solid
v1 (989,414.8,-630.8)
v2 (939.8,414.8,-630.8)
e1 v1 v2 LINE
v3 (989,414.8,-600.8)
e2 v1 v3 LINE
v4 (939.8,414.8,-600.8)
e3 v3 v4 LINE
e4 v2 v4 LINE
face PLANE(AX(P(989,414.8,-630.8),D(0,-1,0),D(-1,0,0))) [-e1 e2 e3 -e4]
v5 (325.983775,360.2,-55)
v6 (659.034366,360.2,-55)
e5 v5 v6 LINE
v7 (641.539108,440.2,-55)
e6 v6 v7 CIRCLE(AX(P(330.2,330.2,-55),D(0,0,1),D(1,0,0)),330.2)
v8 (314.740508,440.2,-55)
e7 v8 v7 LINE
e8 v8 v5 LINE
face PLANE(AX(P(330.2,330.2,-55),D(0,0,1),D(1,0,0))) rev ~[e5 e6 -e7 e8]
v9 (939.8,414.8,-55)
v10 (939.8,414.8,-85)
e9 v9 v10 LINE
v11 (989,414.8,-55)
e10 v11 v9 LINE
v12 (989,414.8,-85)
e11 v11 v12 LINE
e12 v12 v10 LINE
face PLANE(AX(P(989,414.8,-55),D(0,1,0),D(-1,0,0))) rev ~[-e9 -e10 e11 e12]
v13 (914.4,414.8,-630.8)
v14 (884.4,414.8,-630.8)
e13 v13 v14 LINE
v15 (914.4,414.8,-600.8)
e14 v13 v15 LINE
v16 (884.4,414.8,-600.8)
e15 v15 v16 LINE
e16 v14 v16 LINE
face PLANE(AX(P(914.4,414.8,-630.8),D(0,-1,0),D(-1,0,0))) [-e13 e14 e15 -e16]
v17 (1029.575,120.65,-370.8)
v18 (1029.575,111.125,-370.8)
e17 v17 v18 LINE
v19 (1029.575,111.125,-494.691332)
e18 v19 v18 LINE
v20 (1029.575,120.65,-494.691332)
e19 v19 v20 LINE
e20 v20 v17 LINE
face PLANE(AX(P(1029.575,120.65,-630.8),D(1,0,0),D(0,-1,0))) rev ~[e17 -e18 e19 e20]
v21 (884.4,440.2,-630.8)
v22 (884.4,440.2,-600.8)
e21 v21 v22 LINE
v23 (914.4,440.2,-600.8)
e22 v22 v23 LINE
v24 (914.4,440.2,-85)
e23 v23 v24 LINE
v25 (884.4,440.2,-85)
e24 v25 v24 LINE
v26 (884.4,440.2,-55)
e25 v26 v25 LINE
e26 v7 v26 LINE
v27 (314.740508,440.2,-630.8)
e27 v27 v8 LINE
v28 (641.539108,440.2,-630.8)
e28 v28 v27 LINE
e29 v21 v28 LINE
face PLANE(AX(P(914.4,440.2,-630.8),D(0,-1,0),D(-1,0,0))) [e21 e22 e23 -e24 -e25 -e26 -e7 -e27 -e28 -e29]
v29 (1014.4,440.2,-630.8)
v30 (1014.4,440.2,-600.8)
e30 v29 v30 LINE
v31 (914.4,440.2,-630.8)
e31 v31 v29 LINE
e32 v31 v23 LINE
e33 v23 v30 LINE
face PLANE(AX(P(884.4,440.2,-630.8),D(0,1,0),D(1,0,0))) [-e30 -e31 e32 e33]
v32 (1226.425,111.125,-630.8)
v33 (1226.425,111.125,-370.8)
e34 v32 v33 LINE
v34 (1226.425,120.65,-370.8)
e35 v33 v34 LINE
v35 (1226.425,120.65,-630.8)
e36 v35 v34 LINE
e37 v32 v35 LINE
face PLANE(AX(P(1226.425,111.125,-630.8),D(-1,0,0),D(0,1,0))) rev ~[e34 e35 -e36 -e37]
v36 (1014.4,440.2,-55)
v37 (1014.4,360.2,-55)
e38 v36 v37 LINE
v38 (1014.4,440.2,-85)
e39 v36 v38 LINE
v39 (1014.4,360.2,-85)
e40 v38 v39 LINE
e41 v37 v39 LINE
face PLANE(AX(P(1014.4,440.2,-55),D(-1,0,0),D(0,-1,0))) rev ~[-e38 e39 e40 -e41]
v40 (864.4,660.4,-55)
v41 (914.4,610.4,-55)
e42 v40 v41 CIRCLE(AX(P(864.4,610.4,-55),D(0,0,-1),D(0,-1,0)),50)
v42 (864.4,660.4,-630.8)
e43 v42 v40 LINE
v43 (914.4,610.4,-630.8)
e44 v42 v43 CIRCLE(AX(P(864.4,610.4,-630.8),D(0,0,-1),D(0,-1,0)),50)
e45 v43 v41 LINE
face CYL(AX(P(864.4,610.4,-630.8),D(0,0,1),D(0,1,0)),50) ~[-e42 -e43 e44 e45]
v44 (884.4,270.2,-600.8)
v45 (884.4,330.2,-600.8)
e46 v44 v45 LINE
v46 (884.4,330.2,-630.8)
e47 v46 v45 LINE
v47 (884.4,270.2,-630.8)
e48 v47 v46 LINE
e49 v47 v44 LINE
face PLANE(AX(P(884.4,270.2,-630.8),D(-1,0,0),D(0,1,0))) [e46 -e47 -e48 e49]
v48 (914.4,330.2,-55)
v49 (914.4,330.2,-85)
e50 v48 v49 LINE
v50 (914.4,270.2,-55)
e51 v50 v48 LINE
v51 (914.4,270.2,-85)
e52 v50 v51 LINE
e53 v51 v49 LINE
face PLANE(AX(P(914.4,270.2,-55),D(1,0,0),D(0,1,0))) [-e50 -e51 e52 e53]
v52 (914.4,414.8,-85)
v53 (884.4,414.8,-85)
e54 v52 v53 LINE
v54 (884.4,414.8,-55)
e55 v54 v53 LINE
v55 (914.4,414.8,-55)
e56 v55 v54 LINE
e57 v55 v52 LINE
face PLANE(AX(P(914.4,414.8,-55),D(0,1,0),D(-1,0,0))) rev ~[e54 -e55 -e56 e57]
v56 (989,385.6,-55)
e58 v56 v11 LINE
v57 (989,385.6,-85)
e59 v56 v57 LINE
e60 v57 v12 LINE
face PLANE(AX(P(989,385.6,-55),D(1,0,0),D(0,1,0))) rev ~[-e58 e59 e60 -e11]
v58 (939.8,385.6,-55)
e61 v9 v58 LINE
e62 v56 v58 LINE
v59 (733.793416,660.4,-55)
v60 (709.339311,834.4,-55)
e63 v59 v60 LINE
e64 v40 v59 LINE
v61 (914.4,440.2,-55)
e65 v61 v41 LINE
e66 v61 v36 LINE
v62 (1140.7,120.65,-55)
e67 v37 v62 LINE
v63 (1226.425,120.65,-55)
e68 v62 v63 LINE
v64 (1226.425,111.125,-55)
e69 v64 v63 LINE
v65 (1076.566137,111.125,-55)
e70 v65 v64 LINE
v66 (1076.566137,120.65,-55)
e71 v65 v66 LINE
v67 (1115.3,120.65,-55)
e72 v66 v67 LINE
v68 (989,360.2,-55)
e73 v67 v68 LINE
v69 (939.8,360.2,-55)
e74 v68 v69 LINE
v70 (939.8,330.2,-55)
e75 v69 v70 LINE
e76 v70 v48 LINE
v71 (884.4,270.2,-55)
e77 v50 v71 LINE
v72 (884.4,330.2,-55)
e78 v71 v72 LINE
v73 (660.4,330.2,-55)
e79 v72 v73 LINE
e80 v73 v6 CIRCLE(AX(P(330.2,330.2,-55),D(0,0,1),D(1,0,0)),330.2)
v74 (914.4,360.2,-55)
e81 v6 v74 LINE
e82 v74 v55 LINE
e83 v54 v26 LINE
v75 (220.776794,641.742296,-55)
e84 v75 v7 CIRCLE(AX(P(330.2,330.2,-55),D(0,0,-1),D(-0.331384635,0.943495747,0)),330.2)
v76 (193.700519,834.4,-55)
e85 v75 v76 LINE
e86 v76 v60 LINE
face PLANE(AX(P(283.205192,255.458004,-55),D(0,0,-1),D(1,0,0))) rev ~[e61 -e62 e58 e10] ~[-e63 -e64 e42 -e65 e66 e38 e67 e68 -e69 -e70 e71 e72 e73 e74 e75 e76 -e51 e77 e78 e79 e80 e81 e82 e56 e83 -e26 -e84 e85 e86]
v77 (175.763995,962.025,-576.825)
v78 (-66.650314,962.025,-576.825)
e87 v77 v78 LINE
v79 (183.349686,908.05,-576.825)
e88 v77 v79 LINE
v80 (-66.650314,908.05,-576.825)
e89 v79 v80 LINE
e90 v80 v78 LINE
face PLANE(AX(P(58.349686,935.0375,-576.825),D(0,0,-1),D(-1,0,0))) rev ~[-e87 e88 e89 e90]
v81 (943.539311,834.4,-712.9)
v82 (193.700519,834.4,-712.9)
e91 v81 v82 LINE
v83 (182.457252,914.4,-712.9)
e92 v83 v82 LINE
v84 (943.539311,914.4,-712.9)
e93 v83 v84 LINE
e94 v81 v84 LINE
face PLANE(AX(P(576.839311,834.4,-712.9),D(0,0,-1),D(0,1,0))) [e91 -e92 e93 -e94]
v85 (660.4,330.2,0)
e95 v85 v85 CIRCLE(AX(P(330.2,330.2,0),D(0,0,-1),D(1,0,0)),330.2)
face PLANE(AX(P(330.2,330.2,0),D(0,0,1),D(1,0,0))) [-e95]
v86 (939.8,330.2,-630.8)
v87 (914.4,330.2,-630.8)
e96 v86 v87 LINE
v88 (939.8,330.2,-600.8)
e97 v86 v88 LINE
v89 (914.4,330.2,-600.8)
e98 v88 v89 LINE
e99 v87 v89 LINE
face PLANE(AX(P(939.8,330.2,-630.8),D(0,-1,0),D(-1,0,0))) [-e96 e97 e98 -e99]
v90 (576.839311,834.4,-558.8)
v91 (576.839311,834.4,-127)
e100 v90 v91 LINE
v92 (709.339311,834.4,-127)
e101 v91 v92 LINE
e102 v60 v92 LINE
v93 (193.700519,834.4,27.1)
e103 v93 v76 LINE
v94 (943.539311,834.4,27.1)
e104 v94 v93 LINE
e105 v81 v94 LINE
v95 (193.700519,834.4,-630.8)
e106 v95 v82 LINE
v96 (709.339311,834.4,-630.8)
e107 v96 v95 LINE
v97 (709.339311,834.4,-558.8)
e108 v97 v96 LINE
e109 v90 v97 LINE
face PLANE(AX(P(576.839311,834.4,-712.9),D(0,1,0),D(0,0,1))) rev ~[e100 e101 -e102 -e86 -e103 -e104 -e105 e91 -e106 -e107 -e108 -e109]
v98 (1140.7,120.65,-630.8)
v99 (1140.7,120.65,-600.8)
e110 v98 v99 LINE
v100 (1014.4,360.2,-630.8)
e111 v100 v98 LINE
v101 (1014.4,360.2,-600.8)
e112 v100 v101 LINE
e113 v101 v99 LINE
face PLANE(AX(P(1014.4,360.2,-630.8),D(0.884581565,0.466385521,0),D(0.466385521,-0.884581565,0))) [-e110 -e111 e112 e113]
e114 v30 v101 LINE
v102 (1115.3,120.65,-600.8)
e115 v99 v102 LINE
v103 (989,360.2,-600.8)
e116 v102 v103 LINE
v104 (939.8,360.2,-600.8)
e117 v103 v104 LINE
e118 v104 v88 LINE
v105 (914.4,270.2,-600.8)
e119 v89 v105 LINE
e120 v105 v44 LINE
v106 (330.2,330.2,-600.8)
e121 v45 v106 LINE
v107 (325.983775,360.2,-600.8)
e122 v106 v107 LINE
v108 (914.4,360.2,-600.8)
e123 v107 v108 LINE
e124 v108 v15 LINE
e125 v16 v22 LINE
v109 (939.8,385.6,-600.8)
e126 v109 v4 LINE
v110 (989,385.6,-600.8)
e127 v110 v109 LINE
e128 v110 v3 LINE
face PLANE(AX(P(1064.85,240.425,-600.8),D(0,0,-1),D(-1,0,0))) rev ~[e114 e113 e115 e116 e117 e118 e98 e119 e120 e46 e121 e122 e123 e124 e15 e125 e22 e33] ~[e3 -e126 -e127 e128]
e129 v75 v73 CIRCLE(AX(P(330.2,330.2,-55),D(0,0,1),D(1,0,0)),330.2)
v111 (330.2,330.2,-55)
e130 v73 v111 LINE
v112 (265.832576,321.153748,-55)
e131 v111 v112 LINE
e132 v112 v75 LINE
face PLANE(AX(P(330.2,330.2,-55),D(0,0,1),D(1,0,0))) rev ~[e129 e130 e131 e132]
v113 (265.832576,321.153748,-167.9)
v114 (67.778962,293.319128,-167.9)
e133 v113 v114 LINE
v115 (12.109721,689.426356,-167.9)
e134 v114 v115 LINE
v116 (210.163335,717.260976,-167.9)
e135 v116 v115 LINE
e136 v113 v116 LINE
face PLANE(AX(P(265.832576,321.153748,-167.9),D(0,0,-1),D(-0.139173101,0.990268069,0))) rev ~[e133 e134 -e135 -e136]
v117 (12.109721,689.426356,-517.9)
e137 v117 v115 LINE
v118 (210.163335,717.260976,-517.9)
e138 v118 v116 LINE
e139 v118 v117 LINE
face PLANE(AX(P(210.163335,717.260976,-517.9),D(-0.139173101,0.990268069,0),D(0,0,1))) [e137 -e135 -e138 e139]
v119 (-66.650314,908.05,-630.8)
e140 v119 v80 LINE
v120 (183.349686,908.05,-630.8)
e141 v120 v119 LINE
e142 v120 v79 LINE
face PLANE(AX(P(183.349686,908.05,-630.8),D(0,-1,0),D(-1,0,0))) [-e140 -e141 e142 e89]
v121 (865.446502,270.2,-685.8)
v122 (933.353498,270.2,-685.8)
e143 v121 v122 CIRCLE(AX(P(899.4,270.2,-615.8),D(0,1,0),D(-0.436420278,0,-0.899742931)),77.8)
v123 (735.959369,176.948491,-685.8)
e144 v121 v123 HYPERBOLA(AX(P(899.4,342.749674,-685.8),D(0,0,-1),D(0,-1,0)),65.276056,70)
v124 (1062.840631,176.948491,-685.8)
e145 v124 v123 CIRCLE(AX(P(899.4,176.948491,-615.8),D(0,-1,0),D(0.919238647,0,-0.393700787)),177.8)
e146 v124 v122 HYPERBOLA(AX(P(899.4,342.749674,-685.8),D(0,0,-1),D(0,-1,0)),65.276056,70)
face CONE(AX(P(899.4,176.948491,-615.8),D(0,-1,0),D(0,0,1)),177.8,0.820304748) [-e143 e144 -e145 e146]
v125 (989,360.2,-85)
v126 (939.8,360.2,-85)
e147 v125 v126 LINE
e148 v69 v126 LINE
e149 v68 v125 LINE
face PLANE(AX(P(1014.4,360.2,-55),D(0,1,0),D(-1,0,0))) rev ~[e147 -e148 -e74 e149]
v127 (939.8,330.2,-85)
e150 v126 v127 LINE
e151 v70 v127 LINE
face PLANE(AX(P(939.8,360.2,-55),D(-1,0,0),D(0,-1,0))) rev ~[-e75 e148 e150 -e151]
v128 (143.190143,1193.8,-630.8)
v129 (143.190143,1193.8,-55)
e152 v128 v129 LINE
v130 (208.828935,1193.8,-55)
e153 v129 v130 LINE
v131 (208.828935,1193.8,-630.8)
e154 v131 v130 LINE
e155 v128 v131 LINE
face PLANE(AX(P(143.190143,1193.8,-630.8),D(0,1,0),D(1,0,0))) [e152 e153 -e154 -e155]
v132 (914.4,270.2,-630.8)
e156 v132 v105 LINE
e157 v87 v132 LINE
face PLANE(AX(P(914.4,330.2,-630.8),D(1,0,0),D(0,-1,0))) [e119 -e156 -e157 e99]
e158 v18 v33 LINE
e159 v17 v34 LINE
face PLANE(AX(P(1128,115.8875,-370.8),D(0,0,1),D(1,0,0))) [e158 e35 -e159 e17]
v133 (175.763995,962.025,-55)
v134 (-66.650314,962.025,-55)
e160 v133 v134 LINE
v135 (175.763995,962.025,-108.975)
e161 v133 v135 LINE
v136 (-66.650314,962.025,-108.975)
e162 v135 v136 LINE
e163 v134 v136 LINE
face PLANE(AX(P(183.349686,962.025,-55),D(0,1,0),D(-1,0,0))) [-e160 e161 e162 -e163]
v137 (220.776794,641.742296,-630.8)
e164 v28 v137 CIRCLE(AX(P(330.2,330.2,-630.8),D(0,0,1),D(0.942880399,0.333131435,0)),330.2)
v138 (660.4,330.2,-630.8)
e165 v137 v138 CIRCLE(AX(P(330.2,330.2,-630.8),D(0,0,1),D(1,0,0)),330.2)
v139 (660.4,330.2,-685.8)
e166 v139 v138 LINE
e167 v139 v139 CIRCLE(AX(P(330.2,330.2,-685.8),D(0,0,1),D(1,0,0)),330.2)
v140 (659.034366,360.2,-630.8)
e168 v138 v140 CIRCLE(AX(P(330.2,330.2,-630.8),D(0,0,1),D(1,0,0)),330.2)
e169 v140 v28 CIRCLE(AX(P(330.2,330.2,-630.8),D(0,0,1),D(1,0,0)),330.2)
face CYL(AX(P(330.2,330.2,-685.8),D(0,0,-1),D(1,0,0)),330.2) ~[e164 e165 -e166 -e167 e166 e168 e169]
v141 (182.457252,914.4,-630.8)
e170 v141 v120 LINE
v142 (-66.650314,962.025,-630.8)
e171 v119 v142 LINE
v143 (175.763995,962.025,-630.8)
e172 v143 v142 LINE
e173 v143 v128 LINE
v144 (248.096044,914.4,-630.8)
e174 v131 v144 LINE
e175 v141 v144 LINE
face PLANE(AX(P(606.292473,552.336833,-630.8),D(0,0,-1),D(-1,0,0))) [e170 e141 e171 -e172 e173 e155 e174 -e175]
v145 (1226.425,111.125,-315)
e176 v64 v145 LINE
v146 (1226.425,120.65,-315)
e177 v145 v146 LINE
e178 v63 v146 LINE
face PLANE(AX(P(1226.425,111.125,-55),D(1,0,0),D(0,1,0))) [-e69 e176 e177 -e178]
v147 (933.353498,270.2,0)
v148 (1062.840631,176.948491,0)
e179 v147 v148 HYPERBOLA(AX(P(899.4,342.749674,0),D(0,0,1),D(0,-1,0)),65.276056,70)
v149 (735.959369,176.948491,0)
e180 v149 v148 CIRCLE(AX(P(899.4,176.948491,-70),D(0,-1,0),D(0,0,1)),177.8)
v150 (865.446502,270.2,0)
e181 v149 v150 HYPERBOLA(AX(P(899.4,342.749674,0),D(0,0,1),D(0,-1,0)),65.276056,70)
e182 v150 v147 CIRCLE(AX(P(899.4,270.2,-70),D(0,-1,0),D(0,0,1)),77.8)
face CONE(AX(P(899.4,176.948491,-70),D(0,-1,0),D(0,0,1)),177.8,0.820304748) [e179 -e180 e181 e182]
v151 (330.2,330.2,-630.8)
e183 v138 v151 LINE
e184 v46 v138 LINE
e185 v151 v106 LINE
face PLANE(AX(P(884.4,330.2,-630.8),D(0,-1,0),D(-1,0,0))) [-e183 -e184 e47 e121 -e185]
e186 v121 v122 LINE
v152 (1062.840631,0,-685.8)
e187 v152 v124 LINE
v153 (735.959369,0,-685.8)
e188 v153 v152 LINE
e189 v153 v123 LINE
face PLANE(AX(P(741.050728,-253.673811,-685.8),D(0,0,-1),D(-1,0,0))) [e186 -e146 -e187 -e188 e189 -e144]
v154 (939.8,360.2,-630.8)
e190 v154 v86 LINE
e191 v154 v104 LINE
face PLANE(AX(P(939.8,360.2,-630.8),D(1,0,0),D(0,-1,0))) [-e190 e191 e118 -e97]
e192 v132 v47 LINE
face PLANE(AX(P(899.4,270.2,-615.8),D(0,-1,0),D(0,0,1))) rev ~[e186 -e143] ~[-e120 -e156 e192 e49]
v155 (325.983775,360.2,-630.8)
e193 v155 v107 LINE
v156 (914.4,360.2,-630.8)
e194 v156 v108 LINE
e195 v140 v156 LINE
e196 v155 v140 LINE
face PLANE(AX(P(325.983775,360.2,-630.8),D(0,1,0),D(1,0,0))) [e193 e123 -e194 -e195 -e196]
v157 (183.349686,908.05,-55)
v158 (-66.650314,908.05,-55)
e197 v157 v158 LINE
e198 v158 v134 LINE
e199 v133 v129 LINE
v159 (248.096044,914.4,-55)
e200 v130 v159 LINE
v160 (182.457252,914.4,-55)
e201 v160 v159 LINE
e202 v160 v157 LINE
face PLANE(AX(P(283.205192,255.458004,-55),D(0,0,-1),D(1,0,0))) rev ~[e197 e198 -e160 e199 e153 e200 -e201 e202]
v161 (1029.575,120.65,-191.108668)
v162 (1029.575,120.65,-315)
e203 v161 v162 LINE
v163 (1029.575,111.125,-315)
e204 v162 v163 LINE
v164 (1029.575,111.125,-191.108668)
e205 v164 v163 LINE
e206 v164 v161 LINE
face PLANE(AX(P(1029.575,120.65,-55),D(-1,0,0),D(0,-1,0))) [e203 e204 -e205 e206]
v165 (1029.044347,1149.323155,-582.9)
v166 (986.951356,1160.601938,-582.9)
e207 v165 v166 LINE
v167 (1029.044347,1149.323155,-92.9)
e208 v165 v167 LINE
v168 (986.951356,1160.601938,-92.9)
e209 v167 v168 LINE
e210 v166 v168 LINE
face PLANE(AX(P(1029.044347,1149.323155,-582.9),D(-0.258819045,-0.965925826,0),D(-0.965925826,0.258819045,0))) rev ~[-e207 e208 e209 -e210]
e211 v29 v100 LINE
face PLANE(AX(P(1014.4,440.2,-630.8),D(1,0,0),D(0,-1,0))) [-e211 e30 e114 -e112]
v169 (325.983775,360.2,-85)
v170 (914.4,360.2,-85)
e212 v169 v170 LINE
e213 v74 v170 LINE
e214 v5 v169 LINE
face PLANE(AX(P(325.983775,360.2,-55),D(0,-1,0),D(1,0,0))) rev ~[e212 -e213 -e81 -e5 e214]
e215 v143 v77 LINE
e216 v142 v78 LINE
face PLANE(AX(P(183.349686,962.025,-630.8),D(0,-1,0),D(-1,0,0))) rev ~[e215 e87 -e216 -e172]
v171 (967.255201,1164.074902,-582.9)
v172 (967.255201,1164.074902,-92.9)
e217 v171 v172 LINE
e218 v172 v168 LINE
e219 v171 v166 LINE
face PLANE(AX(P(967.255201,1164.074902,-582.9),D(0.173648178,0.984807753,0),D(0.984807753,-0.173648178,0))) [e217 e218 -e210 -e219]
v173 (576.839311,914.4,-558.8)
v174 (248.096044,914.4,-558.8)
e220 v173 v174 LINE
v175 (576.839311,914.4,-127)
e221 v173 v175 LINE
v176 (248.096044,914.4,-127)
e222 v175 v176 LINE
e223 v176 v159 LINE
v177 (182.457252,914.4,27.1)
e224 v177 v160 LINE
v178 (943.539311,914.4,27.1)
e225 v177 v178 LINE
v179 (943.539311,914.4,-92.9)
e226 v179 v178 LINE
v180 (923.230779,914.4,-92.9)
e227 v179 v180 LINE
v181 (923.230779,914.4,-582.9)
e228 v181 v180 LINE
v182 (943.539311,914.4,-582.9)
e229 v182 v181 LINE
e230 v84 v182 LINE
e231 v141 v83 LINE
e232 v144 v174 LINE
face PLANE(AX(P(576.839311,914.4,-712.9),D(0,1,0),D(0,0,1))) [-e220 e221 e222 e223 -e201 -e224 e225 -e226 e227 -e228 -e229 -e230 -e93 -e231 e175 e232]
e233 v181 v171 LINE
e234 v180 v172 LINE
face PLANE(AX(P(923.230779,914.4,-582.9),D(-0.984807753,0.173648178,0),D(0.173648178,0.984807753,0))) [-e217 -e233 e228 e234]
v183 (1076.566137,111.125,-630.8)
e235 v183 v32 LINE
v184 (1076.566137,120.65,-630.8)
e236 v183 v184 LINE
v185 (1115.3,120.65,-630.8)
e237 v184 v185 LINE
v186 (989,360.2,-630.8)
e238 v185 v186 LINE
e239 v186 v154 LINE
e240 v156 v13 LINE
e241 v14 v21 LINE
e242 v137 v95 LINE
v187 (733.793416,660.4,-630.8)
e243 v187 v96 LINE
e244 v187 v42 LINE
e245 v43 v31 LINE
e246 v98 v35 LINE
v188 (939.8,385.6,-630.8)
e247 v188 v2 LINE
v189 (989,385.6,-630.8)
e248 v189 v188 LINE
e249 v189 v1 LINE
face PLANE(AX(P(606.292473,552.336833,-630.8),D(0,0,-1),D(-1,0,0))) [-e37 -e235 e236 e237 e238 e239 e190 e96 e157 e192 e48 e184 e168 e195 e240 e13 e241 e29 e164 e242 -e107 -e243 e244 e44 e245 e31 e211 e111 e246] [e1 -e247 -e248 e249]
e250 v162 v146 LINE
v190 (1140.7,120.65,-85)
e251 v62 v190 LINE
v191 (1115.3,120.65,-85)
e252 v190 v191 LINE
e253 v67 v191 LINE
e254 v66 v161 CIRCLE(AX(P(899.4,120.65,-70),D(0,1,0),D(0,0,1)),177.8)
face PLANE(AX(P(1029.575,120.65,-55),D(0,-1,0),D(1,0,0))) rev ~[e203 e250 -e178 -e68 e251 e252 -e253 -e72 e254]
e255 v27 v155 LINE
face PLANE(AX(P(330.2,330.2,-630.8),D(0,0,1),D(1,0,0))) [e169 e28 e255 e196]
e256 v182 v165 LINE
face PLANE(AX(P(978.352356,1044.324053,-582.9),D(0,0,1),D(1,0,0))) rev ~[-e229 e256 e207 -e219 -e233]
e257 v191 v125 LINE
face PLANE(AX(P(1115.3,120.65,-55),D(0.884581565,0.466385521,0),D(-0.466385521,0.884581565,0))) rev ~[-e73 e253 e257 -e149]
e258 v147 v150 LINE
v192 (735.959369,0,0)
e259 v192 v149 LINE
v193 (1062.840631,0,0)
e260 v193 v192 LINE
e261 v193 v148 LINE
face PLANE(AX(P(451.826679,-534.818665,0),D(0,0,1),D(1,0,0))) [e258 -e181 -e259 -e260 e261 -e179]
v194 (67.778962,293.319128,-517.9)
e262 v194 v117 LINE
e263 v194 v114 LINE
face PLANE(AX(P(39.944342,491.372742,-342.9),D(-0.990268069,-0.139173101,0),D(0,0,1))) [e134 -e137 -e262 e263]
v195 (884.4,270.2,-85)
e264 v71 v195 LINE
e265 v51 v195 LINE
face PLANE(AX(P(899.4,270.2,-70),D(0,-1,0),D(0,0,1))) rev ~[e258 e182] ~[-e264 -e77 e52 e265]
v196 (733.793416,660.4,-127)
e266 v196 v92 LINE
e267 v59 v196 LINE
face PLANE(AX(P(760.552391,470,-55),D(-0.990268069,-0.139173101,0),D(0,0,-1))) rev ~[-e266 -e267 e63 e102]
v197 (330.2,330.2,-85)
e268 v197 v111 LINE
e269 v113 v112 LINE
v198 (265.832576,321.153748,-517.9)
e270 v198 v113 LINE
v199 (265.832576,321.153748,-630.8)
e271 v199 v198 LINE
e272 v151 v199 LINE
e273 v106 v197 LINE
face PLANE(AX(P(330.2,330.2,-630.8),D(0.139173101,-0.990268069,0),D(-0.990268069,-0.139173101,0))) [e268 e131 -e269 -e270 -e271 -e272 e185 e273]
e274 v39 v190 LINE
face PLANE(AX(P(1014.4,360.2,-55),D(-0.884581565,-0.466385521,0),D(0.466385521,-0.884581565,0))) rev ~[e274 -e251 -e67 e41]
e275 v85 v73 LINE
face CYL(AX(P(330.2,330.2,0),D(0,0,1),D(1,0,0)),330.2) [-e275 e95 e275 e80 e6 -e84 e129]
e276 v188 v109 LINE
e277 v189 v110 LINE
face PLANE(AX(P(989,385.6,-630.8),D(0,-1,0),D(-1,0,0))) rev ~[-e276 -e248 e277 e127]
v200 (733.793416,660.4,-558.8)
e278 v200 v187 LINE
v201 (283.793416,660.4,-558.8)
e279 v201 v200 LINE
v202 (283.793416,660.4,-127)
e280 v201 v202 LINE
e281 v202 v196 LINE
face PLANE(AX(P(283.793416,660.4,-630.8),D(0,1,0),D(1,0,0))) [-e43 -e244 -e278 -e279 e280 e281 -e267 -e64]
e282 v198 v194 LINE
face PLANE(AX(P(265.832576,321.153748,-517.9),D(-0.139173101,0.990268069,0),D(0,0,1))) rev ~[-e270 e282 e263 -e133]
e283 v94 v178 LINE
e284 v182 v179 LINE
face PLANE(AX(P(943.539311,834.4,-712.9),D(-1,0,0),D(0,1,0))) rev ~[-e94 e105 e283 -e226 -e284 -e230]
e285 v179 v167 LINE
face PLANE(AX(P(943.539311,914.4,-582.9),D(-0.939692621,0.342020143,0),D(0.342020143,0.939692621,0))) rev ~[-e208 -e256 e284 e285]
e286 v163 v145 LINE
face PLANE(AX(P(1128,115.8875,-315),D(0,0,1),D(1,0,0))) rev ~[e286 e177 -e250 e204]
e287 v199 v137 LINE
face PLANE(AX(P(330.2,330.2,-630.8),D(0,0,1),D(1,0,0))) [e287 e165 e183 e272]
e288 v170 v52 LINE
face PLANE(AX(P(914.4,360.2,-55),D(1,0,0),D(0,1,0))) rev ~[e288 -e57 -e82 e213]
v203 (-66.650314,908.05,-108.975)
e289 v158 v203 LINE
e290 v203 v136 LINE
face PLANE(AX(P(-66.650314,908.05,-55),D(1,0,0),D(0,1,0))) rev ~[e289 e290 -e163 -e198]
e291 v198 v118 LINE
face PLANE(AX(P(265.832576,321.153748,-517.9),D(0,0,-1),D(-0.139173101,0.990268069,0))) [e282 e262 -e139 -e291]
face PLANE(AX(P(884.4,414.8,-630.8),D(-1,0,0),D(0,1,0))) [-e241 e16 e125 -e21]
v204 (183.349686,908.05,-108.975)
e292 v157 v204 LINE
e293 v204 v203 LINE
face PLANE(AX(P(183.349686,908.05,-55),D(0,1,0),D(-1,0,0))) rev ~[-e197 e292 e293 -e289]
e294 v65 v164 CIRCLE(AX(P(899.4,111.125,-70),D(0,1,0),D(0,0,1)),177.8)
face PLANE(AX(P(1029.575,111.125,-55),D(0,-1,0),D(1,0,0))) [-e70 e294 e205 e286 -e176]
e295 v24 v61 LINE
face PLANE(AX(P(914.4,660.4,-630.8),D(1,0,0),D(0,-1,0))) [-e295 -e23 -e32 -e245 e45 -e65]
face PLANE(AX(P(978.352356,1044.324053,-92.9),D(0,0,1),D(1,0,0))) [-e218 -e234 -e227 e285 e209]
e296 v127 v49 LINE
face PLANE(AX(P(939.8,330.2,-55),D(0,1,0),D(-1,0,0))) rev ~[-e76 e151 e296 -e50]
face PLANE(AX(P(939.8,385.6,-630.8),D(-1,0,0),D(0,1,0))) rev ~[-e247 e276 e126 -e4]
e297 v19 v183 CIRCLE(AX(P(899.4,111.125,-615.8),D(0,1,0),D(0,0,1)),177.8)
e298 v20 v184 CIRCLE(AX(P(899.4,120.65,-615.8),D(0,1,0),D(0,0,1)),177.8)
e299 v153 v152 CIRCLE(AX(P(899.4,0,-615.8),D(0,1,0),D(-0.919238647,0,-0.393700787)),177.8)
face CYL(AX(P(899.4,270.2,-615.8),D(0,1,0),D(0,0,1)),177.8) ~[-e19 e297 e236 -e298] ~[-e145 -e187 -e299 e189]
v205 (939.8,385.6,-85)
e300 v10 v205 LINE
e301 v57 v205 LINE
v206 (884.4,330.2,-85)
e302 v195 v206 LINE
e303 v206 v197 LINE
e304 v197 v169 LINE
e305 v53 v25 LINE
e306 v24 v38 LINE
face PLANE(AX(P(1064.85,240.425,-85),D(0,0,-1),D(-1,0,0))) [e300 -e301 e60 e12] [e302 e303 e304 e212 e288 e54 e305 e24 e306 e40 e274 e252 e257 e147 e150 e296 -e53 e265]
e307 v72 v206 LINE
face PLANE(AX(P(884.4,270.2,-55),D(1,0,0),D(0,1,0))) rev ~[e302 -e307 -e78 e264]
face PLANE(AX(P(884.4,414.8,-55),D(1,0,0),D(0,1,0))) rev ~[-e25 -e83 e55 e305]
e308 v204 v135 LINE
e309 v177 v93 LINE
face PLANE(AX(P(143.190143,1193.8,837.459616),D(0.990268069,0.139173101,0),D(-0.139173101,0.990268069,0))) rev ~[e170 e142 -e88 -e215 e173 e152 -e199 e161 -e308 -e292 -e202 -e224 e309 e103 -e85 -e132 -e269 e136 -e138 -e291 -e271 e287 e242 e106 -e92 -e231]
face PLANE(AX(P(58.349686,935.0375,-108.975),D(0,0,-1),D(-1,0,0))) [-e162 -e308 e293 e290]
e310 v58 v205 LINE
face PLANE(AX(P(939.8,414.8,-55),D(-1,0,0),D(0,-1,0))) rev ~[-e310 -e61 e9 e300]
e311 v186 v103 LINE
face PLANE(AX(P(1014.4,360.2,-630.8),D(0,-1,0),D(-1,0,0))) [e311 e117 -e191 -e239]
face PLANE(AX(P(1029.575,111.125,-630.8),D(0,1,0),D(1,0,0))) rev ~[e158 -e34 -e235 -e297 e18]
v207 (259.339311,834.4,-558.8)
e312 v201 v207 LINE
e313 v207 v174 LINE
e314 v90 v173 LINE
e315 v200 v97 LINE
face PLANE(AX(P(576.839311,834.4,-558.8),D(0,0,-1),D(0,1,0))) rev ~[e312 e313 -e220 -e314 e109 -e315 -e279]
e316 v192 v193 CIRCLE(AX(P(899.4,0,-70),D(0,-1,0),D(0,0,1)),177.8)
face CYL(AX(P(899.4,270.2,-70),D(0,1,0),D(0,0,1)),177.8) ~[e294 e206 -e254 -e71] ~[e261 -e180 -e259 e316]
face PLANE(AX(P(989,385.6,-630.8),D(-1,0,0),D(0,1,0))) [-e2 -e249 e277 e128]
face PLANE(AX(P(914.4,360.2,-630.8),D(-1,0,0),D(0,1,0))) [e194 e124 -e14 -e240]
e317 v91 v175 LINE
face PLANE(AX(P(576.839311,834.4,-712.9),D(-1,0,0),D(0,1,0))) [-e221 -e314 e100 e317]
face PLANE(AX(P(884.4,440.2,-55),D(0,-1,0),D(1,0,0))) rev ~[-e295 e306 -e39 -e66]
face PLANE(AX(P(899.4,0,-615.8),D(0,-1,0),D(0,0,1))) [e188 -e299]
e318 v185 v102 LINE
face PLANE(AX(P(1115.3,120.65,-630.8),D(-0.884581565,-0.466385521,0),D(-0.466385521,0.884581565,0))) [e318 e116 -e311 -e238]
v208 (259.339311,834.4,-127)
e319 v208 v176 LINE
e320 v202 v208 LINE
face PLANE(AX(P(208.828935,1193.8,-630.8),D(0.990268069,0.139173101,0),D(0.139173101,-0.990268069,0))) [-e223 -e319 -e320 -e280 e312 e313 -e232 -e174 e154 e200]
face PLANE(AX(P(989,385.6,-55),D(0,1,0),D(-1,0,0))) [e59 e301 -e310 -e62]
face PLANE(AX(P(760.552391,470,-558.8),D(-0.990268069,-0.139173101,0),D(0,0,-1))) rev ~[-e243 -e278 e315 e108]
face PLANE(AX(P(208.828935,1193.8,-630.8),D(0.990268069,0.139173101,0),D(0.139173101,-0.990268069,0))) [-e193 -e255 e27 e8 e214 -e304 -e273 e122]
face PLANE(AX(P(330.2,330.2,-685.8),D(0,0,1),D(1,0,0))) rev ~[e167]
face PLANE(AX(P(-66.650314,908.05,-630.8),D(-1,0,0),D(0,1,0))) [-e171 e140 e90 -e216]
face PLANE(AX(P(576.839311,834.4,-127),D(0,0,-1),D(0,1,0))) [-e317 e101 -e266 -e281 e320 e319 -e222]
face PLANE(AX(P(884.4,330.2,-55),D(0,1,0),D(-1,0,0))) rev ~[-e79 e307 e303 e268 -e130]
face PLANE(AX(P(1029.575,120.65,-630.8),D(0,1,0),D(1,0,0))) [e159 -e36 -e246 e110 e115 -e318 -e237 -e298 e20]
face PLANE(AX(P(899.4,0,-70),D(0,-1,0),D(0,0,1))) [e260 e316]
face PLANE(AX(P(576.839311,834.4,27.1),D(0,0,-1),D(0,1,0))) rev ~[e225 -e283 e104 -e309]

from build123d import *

# Parameters (mm, degrees)
SKETCH1_R                 = 330.2
BOSS_EXTRUDE1_DEPTH       = 55
SKETCH2_R                 = 330.2
BOSS_EXTRUDE2_DEPTH       = 55
BOSS_EXTRUDE3_DEPTH       = 10
BOSS_EXTRUDE6_DEPTH       = 575.8
BOSS_EXTRUDE33_DEPTH      = 370
BOSS_EXTRUDE33_DEPTH_BACK = 370
SKETCH25_W                = 366.7
SKETCH25_H                = 80
SKETCH5_W                 = 450
SKETCH5_H                 = 72
BOSS_EXTRUDE7_DEPTH       = 367.981167426
SKETCH8_W                 = 49.2
SKETCH8_H                 = 29.2
BOSS_EXTRUDE13_DEPTH      = 30
SKETCH19_R                = 177.8
BOSS_EXTRUDE22_DEPTH      = 270.2
CHAMFER1_SIZE             = 100
CHAMFER1_SIZE2            = 93.251508614
BOSS_EXTRUDE27_DEPTH      = 30
BOSS_EXTRUDE20_DEPTH      = 260
SKETCH23_W                = 30
SKETCH23_H                = 60
SKETCH23_W_2              = 49.2
SKETCH23_H_2              = 25.4
SKETCH23_W_3              = 25.4
BOSS_EXTRUDE28_DEPTH      = 30
SKETCH24_R                = 177.8
BOSS_EXTRUDE29_DEPTH      = 270.2
CHAMFER2_SIZE             = 100
CHAMFER2_SIZE2            = 93.251508614
BOSS_EXTRUDE30_DEPTH      = 30
BOSS_EXTRUDE31_DEPTH      = 260
SKETCH16_W                = 250
SKETCH16_H                = 53.975
BOSS_EXTRUDE18_DEPTH      = 53.975
SKETCH18_W                = 250
SKETCH18_H                = 53.975
BOSS_EXTRUDE19_DEPTH      = 53.975
BOSS_EXTRUDE32_REACH      = 1866.083
BOSS_EXTRUDE34_REACH      = 1575.824
SKETCH26_W                = 154.1
SKETCH26_H                = 80
SKETCH27_W                = 350
SKETCH27_H                = 400
BOSS_EXTRUDE35_DEPTH      = 200
BOSS_EXTRUDE36_START      = -130
BOSS_EXTRUDE36_DEPTH      = 490
FILLET3_R                 = 50
SKETCH30_W                = 2623.123535912
SKETCH30_H                = 2390.43733062
CUT_EXTRUDE1_DEPTH        = 1887.551796433
SKETCH31_W                = 2584.765961417
SKETCH31_H                = 1828.147621016
CUT_EXTRUDE2_DEPTH        = 1855.050466041


with BuildPart() as part:
    # Sketch1 → Boss-Extrude1 (new body)
    with BuildSketch(Plane.XY):
        with Locations((330.2, 330.2)):
            Circle(SKETCH1_R)
    extrude(amount=-BOSS_EXTRUDE1_DEPTH)



with BuildPart() as body_2:
    # Sketch2 → Boss-Extrude2 (new body)
    with BuildSketch(Plane.XY.offset(-685.8)):
        with Locations((330.2, 330.2)):
            Circle(SKETCH2_R)
    extrude(amount=BOSS_EXTRUDE2_DEPTH)


with BuildPart() as part_1:
    add(part.part)

    add(body_2.part)  # Boss-Extrude3 merges body 2
    # 3DSketch2 → Boss-Extrude3 (add)
    with BuildSketch(Plane(origin=(330.2, 460, -630.8), x_dir=(0.5893057409504111, 0, 0.807910108664873), z_dir=(0, -1, 0))):
        Polygon((465.194640569, 339.322245639), (0, 0), (247.508411199, -339.322245639), (712.703051768, 0), align=None)
        Polygon((-38.304873162, 52.514157063), (0, 0), (465.194640569, 339.322245639), (426.889767407, 391.836402702), align=None)
    extrude(amount=-BOSS_EXTRUDE3_DEPTH)

    # Sketch4 → Boss-Extrude6 (add)
    with BuildSketch(Plane(origin=(0, -170.8, -630.8), x_dir=(1, 0, 0), z_dir=(0, 0, 1))):
        Polygon((208.828935151, 1364.6), (330.2, 501), (265.832575532, 491.953748438), (143.190142937, 1364.6), align=None)
    extrude(amount=BOSS_EXTRUDE6_DEPTH)

    # Sketch5 → Boss-Extrude7 (add, along a direction that is not the sketch's normal)
    with BuildSketch(Plane(origin=(0, 470, 0), x_dir=(1, 0, 0), z_dir=(0, 1, 0))):
        with Locations((535.552391309, 91)):
            Rectangle(SKETCH5_W, SKETCH5_H)
        with Locations((535.552391309, 594.8)):
            Rectangle(SKETCH5_W, SKETCH5_H)
    extrude(amount=BOSS_EXTRUDE7_DEPTH, dir=(-0.13917310096006222, 0.9902680687415708, 0))

    # Sketch8 → Boss-Extrude13 (add)
    with BuildSketch(Plane(origin=(0, 0, -630.8), x_dir=(-1, 0, 0), z_dir=(0, 0, -1))):
        Polygon((-1014.4, 360.2), (-939.8, 360.2), (-939.8, 330.2), (-914.4, 330.2), (-914.4, 270.2), (-884.4, 270.2), (-884.4, 330.2), (-330.2, 330.2), (-325.983774959, 360.2), (-914.4, 360.2), (-914.4, 414.8), (-884.4, 414.8), (-884.4, 440.2), (-1014.4, 440.2), align=None)
        with Locations((-964.4, 400.2)):
            Rectangle(SKETCH8_W, SKETCH8_H, mode=Mode.SUBTRACT)
    extrude(amount=-BOSS_EXTRUDE13_DEPTH)

    # Sketch19 → Boss-Extrude22 (add)
    with BuildSketch(Plane.XZ.offset(-270.2)):
        with Locations(Location((899.4, -615.8, 0), (0, 0, 90))):
            Circle(SKETCH19_R)
    extrude(amount=BOSS_EXTRUDE22_DEPTH)

    # Chamfer1
    chamfer1_edges = [part_1.edges().sort_by_distance(p)[0] for p in [
        (899.4, 270.2, -793.6),
    ]]
    chamfer1_side = [part_1.faces().sort_by_distance(p)[0] for p in [
        (899.4, 270.2, -788.571056572),
    ]]
    chamfer(chamfer1_edges, length=CHAMFER1_SIZE, length2=CHAMFER1_SIZE2, reference=chamfer1_side[0])

    # Sketch8<7> → Boss-Extrude27 (add)
    with BuildSketch(Plane(origin=(0, 0, -630.8), x_dir=(-1, 0, 0), z_dir=(0, 0, -1))):
        Polygon((-1014.4, 360.2), (-1140.7, 120.65), (-1115.3, 120.65), (-989, 360.2), align=None)
    extrude(amount=-BOSS_EXTRUDE27_DEPTH)

    # Sketch8<4> → Boss-Extrude20 (add)
    with BuildSketch(Plane(origin=(0, 0, -630.8), x_dir=(-1, 0, 0), z_dir=(0, 0, -1))):
        Polygon((-1226.425, 111.125), (-1226.425, 120.65), (-1140.7, 120.65), (-1115.3, 120.65), (-1029.575, 120.65), (-1029.575, 111.125), align=None)
    extrude(amount=-BOSS_EXTRUDE20_DEPTH)

    # Sketch23 → Boss-Extrude28 (add)
    with BuildSketch(Plane(origin=(0, 0, -55), x_dir=(-1, 0, 0), z_dir=(0, 0, -1))):
        with BuildLine():
            Line((-330.2, 360.2), (-659.034365601, 360.2))
            ThreePointArc((-659.034365601, 360.2), (-660.058414719, 345.215533268), (-660.4, 330.2))
            Line((-660.4, 330.2), (-330.2, 330.2))
            Line((-330.2, 330.2), (-330.2, 360.2))
        make_face()
        with BuildLine():
            Line((-914.4, 360.2), (-939.8, 360.2))
            Line((-939.8, 360.2), (-939.8, 330.2))
            Line((-939.8, 330.2), (-914.4, 330.2))
            Line((-914.4, 330.2), (-884.4, 330.2))
            Line((-884.4, 330.2), (-660.4, 330.2))
            ThreePointArc((-660.4, 330.2), (-660.058414719, 345.215533268), (-659.034365601, 360.2))
            Line((-659.034365601, 360.2), (-914.4, 360.2))
        make_face()
        with Locations((-899.4, 300.2)):
            Rectangle(SKETCH23_W, SKETCH23_H)
        Polygon((-939.8, 385.6), (-939.8, 360.2), (-914.4, 360.2), (-914.4, 414.8), (-914.4, 440.2), (-939.8, 440.2), (-939.8, 414.8), align=None)
        with Locations((-964.4, 372.9)):
            Rectangle(SKETCH23_W_2, SKETCH23_H_2)
        with Locations((-964.4, 427.5)):
            Rectangle(SKETCH23_W_2, SKETCH23_H_2)
        Polygon((-1014.4, 440.2), (-1014.4, 385.6), (-989, 385.6), (-989, 414.8), (-989, 440.2), align=None)
        with Locations((-1001.7, 372.9)):
            Rectangle(SKETCH23_W_3, SKETCH23_H_2)
        Polygon((-325.983774959, 360.2), (-330.2, 360.2), (-330.2, 330.2), align=None)
        with Locations((-899.4, 427.5)):
            Rectangle(SKETCH23_W, SKETCH23_H_2)
    extrude(amount=BOSS_EXTRUDE28_DEPTH)

    # Sketch24 → Boss-Extrude29 (add)
    with BuildSketch(Plane(origin=(0, 270.2, 0), x_dir=(-1, 0, 0), z_dir=(0, -1, 0))):
        with Locations(Location((-899.4, 70, 0), (0, 0, 270))):
            Circle(SKETCH24_R)
    extrude(amount=BOSS_EXTRUDE29_DEPTH)

    # Chamfer2
    chamfer2_edges = [part_1.edges().sort_by_distance(p)[0] for p in [
        (899.4, 270.2, -247.8),
    ]]
    chamfer2_side = [part_1.faces().sort_by_distance(p)[0] for p in [
        (899.4, 270.2, -242.771056572),
    ]]
    chamfer(chamfer2_edges, length=CHAMFER2_SIZE, length2=CHAMFER2_SIZE2, reference=chamfer2_side[0])

    # Sketch23<10> → Boss-Extrude30 (add)
    with BuildSketch(Plane(origin=(0, 0, -55), x_dir=(-1, 0, 0), z_dir=(0, 0, -1))):
        Polygon((-1014.4, 360.2), (-1140.7, 120.65), (-1115.3, 120.65), (-989, 360.2), align=None)
    extrude(amount=BOSS_EXTRUDE30_DEPTH)

    # Sketch23<12> → Boss-Extrude31 (add)
    with BuildSketch(Plane(origin=(0, 0, -55), x_dir=(-1, 0, 0), z_dir=(0, 0, -1))):
        Polygon((-1226.425, 111.125), (-1226.425, 120.65), (-1140.7, 120.65), (-1115.3, 120.65), (-1029.575, 120.65), (-1029.575, 111.125), align=None)
    extrude(amount=BOSS_EXTRUDE31_DEPTH)

    # Sketch16 → Boss-Extrude18 (add)
    with BuildSketch(Plane(origin=(0, 0, -630.8), x_dir=(-1, 0, 0), z_dir=(0, 0, -1))):
        with Locations((-58.349686454, 935.0375)):
            Rectangle(SKETCH16_W, SKETCH16_H)
    extrude(amount=-BOSS_EXTRUDE18_DEPTH)

    # Sketch18 → Boss-Extrude19 (add)
    with BuildSketch(Plane(origin=(0, 0, -55), x_dir=(-1, 0, 0), z_dir=(0, 0, -1))):
        with Locations((-58.349686454, 935.0375)):
            Rectangle(SKETCH18_W, SKETCH18_H)
    extrude(amount=BOSS_EXTRUDE19_DEPTH)

    # Boss-Extrude32: up to this face of the body (flat: up to its plane)
    boss_extrude32_end = Plane(part_1.part.faces().sort_by_distance((283.205191665, 255.458003874, -55))[0])
    # Sketch8<8> → Boss-Extrude32 (add, up to the picked face)
    with BuildSketch(Plane(origin=(0, 0, -630.8), x_dir=(-1, 0, 0), z_dir=(0, 0, -1)), mode=Mode.PRIVATE) as boss_extrude32_sk1:
        Polygon((-314.740508183, 440.2), (-283.793416381, 660.4), (-914.4, 660.4), (-914.4, 440.2), align=None)
    boss_extrude32_tool1 = split(extrude(boss_extrude32_sk1.sketch, amount=-BOSS_EXTRUDE32_REACH, mode=Mode.PRIVATE), bisect_by=boss_extrude32_end, keep=Keep.BOTH, mode=Mode.PRIVATE)
    add(boss_extrude32_tool1.solids().sort_by(Axis((606.768609, 551.223181, -630.8), (0, 0, 1)))[0])



with BuildPart() as body_2_2:
    # Sketch25 → Boss-Extrude33 (new, two sides: drawn at the far end of the back side and taken through both)
    with BuildSketch(Plane.XY.offset(-342.9).offset(-BOSS_EXTRUDE33_DEPTH_BACK)):
        with Locations((760.189311143, 874.4)):
            Rectangle(SKETCH25_W, SKETCH25_H)
    extrude(amount=BOSS_EXTRUDE33_DEPTH + BOSS_EXTRUDE33_DEPTH_BACK)


with BuildPart() as part_2:
    add(part_1.part)

    add(body_2_2.part)  # Boss-Extrude34 merges body 2 2
    # Boss-Extrude34: up to this plane
    boss_extrude34_end = Plane(origin=(143.190142937, 1193.8, 837.459616456), z_dir=(0.9902680687415708, 0.13917310096006216, 0))
    # Sketch26 → Boss-Extrude34 (add, up to the surface)
    with BuildSketch(Plane.ZY.offset(-576.839311143), mode=Mode.PRIVATE) as boss_extrude34_sk1:
        with Locations((-49.95, 874.4)):
            Rectangle(SKETCH26_W, SKETCH26_H)
    boss_extrude34_tool1 = split(extrude(boss_extrude34_sk1.sketch, amount=BOSS_EXTRUDE34_REACH, mode=Mode.PRIVATE), bisect_by=boss_extrude34_end, keep=Keep.BOTH, mode=Mode.PRIVATE)
    add(boss_extrude34_tool1.solids().sort_by_distance((576.839311, 874.4, -49.95))[0])
    # Sketch26 → Boss-Extrude34 (add, up to the surface)
    with BuildSketch(Plane.ZY.offset(-576.839311143), mode=Mode.PRIVATE) as boss_extrude34_sk2:
        with Locations((-635.85, 874.4)):
            Rectangle(SKETCH26_W, SKETCH26_H)
    boss_extrude34_tool2 = split(extrude(boss_extrude34_sk2.sketch, amount=BOSS_EXTRUDE34_REACH, mode=Mode.PRIVATE), bisect_by=boss_extrude34_end, keep=Keep.BOTH, mode=Mode.PRIVATE)
    add(boss_extrude34_tool2.solids().sort_by_distance((576.839311, 874.4, -635.85))[0])

    # Sketch27 → Boss-Extrude35 (add)
    with BuildSketch(Plane(origin=(304.944608977, 42.857169884, 0), x_dir=(0, 0, 1), z_dir=(-0.9902680687415708, -0.13917310096006216, 0))):
        with Locations((-342.9, 481.031558361)):
            Rectangle(SKETCH27_W, SKETCH27_H)
    extrude(amount=BOSS_EXTRUDE35_DEPTH)

    # Sketch29 → Boss-Extrude36 (add)
    with BuildSketch(Plane(origin=(0, 0, -712.9), x_dir=(-1, 0, 0), z_dir=(0, 0, -1)).offset(BOSS_EXTRUDE36_START)):
        Polygon((-1029.044346974, 1149.323155196), (-986.95135556, 1160.601938253), (-943.539311143, 914.4), align=None)
        Polygon((-986.95135556, 1160.601938253), (-943.539311143, 914.4), (-923.230778905, 914.4), (-967.2552005, 1164.074901806), align=None)
    extrude(amount=-BOSS_EXTRUDE36_DEPTH)

    # Fillet3
    fillet3_edges = [part_2.edges().sort_by_distance(p)[0] for p in [
        (914.4, 660.4, -342.9),
    ]]
    fillet(fillet3_edges, radius=FILLET3_R)

    # Sketch30 → Cut-Extrude1 (cut, through all)
    with BuildSketch(Plane.XY):
        with Locations((451.826678709, -534.81866531)):
            Rectangle(SKETCH30_W, SKETCH30_H)
    extrude(amount=CUT_EXTRUDE1_DEPTH, mode=Mode.SUBTRACT)

    # Sketch31 → Cut-Extrude2 (cut, through all)
    with BuildSketch(Plane(origin=(0, 0, -685.8), x_dir=(-1, 0, 0), z_dir=(0, 0, -1))):
        with Locations((-741.050727566, -253.673810508)):
            Rectangle(SKETCH31_W, SKETCH31_H)
    extrude(amount=CUT_EXTRUDE2_DEPTH, mode=Mode.SUBTRACT)


solid = part_2.part
